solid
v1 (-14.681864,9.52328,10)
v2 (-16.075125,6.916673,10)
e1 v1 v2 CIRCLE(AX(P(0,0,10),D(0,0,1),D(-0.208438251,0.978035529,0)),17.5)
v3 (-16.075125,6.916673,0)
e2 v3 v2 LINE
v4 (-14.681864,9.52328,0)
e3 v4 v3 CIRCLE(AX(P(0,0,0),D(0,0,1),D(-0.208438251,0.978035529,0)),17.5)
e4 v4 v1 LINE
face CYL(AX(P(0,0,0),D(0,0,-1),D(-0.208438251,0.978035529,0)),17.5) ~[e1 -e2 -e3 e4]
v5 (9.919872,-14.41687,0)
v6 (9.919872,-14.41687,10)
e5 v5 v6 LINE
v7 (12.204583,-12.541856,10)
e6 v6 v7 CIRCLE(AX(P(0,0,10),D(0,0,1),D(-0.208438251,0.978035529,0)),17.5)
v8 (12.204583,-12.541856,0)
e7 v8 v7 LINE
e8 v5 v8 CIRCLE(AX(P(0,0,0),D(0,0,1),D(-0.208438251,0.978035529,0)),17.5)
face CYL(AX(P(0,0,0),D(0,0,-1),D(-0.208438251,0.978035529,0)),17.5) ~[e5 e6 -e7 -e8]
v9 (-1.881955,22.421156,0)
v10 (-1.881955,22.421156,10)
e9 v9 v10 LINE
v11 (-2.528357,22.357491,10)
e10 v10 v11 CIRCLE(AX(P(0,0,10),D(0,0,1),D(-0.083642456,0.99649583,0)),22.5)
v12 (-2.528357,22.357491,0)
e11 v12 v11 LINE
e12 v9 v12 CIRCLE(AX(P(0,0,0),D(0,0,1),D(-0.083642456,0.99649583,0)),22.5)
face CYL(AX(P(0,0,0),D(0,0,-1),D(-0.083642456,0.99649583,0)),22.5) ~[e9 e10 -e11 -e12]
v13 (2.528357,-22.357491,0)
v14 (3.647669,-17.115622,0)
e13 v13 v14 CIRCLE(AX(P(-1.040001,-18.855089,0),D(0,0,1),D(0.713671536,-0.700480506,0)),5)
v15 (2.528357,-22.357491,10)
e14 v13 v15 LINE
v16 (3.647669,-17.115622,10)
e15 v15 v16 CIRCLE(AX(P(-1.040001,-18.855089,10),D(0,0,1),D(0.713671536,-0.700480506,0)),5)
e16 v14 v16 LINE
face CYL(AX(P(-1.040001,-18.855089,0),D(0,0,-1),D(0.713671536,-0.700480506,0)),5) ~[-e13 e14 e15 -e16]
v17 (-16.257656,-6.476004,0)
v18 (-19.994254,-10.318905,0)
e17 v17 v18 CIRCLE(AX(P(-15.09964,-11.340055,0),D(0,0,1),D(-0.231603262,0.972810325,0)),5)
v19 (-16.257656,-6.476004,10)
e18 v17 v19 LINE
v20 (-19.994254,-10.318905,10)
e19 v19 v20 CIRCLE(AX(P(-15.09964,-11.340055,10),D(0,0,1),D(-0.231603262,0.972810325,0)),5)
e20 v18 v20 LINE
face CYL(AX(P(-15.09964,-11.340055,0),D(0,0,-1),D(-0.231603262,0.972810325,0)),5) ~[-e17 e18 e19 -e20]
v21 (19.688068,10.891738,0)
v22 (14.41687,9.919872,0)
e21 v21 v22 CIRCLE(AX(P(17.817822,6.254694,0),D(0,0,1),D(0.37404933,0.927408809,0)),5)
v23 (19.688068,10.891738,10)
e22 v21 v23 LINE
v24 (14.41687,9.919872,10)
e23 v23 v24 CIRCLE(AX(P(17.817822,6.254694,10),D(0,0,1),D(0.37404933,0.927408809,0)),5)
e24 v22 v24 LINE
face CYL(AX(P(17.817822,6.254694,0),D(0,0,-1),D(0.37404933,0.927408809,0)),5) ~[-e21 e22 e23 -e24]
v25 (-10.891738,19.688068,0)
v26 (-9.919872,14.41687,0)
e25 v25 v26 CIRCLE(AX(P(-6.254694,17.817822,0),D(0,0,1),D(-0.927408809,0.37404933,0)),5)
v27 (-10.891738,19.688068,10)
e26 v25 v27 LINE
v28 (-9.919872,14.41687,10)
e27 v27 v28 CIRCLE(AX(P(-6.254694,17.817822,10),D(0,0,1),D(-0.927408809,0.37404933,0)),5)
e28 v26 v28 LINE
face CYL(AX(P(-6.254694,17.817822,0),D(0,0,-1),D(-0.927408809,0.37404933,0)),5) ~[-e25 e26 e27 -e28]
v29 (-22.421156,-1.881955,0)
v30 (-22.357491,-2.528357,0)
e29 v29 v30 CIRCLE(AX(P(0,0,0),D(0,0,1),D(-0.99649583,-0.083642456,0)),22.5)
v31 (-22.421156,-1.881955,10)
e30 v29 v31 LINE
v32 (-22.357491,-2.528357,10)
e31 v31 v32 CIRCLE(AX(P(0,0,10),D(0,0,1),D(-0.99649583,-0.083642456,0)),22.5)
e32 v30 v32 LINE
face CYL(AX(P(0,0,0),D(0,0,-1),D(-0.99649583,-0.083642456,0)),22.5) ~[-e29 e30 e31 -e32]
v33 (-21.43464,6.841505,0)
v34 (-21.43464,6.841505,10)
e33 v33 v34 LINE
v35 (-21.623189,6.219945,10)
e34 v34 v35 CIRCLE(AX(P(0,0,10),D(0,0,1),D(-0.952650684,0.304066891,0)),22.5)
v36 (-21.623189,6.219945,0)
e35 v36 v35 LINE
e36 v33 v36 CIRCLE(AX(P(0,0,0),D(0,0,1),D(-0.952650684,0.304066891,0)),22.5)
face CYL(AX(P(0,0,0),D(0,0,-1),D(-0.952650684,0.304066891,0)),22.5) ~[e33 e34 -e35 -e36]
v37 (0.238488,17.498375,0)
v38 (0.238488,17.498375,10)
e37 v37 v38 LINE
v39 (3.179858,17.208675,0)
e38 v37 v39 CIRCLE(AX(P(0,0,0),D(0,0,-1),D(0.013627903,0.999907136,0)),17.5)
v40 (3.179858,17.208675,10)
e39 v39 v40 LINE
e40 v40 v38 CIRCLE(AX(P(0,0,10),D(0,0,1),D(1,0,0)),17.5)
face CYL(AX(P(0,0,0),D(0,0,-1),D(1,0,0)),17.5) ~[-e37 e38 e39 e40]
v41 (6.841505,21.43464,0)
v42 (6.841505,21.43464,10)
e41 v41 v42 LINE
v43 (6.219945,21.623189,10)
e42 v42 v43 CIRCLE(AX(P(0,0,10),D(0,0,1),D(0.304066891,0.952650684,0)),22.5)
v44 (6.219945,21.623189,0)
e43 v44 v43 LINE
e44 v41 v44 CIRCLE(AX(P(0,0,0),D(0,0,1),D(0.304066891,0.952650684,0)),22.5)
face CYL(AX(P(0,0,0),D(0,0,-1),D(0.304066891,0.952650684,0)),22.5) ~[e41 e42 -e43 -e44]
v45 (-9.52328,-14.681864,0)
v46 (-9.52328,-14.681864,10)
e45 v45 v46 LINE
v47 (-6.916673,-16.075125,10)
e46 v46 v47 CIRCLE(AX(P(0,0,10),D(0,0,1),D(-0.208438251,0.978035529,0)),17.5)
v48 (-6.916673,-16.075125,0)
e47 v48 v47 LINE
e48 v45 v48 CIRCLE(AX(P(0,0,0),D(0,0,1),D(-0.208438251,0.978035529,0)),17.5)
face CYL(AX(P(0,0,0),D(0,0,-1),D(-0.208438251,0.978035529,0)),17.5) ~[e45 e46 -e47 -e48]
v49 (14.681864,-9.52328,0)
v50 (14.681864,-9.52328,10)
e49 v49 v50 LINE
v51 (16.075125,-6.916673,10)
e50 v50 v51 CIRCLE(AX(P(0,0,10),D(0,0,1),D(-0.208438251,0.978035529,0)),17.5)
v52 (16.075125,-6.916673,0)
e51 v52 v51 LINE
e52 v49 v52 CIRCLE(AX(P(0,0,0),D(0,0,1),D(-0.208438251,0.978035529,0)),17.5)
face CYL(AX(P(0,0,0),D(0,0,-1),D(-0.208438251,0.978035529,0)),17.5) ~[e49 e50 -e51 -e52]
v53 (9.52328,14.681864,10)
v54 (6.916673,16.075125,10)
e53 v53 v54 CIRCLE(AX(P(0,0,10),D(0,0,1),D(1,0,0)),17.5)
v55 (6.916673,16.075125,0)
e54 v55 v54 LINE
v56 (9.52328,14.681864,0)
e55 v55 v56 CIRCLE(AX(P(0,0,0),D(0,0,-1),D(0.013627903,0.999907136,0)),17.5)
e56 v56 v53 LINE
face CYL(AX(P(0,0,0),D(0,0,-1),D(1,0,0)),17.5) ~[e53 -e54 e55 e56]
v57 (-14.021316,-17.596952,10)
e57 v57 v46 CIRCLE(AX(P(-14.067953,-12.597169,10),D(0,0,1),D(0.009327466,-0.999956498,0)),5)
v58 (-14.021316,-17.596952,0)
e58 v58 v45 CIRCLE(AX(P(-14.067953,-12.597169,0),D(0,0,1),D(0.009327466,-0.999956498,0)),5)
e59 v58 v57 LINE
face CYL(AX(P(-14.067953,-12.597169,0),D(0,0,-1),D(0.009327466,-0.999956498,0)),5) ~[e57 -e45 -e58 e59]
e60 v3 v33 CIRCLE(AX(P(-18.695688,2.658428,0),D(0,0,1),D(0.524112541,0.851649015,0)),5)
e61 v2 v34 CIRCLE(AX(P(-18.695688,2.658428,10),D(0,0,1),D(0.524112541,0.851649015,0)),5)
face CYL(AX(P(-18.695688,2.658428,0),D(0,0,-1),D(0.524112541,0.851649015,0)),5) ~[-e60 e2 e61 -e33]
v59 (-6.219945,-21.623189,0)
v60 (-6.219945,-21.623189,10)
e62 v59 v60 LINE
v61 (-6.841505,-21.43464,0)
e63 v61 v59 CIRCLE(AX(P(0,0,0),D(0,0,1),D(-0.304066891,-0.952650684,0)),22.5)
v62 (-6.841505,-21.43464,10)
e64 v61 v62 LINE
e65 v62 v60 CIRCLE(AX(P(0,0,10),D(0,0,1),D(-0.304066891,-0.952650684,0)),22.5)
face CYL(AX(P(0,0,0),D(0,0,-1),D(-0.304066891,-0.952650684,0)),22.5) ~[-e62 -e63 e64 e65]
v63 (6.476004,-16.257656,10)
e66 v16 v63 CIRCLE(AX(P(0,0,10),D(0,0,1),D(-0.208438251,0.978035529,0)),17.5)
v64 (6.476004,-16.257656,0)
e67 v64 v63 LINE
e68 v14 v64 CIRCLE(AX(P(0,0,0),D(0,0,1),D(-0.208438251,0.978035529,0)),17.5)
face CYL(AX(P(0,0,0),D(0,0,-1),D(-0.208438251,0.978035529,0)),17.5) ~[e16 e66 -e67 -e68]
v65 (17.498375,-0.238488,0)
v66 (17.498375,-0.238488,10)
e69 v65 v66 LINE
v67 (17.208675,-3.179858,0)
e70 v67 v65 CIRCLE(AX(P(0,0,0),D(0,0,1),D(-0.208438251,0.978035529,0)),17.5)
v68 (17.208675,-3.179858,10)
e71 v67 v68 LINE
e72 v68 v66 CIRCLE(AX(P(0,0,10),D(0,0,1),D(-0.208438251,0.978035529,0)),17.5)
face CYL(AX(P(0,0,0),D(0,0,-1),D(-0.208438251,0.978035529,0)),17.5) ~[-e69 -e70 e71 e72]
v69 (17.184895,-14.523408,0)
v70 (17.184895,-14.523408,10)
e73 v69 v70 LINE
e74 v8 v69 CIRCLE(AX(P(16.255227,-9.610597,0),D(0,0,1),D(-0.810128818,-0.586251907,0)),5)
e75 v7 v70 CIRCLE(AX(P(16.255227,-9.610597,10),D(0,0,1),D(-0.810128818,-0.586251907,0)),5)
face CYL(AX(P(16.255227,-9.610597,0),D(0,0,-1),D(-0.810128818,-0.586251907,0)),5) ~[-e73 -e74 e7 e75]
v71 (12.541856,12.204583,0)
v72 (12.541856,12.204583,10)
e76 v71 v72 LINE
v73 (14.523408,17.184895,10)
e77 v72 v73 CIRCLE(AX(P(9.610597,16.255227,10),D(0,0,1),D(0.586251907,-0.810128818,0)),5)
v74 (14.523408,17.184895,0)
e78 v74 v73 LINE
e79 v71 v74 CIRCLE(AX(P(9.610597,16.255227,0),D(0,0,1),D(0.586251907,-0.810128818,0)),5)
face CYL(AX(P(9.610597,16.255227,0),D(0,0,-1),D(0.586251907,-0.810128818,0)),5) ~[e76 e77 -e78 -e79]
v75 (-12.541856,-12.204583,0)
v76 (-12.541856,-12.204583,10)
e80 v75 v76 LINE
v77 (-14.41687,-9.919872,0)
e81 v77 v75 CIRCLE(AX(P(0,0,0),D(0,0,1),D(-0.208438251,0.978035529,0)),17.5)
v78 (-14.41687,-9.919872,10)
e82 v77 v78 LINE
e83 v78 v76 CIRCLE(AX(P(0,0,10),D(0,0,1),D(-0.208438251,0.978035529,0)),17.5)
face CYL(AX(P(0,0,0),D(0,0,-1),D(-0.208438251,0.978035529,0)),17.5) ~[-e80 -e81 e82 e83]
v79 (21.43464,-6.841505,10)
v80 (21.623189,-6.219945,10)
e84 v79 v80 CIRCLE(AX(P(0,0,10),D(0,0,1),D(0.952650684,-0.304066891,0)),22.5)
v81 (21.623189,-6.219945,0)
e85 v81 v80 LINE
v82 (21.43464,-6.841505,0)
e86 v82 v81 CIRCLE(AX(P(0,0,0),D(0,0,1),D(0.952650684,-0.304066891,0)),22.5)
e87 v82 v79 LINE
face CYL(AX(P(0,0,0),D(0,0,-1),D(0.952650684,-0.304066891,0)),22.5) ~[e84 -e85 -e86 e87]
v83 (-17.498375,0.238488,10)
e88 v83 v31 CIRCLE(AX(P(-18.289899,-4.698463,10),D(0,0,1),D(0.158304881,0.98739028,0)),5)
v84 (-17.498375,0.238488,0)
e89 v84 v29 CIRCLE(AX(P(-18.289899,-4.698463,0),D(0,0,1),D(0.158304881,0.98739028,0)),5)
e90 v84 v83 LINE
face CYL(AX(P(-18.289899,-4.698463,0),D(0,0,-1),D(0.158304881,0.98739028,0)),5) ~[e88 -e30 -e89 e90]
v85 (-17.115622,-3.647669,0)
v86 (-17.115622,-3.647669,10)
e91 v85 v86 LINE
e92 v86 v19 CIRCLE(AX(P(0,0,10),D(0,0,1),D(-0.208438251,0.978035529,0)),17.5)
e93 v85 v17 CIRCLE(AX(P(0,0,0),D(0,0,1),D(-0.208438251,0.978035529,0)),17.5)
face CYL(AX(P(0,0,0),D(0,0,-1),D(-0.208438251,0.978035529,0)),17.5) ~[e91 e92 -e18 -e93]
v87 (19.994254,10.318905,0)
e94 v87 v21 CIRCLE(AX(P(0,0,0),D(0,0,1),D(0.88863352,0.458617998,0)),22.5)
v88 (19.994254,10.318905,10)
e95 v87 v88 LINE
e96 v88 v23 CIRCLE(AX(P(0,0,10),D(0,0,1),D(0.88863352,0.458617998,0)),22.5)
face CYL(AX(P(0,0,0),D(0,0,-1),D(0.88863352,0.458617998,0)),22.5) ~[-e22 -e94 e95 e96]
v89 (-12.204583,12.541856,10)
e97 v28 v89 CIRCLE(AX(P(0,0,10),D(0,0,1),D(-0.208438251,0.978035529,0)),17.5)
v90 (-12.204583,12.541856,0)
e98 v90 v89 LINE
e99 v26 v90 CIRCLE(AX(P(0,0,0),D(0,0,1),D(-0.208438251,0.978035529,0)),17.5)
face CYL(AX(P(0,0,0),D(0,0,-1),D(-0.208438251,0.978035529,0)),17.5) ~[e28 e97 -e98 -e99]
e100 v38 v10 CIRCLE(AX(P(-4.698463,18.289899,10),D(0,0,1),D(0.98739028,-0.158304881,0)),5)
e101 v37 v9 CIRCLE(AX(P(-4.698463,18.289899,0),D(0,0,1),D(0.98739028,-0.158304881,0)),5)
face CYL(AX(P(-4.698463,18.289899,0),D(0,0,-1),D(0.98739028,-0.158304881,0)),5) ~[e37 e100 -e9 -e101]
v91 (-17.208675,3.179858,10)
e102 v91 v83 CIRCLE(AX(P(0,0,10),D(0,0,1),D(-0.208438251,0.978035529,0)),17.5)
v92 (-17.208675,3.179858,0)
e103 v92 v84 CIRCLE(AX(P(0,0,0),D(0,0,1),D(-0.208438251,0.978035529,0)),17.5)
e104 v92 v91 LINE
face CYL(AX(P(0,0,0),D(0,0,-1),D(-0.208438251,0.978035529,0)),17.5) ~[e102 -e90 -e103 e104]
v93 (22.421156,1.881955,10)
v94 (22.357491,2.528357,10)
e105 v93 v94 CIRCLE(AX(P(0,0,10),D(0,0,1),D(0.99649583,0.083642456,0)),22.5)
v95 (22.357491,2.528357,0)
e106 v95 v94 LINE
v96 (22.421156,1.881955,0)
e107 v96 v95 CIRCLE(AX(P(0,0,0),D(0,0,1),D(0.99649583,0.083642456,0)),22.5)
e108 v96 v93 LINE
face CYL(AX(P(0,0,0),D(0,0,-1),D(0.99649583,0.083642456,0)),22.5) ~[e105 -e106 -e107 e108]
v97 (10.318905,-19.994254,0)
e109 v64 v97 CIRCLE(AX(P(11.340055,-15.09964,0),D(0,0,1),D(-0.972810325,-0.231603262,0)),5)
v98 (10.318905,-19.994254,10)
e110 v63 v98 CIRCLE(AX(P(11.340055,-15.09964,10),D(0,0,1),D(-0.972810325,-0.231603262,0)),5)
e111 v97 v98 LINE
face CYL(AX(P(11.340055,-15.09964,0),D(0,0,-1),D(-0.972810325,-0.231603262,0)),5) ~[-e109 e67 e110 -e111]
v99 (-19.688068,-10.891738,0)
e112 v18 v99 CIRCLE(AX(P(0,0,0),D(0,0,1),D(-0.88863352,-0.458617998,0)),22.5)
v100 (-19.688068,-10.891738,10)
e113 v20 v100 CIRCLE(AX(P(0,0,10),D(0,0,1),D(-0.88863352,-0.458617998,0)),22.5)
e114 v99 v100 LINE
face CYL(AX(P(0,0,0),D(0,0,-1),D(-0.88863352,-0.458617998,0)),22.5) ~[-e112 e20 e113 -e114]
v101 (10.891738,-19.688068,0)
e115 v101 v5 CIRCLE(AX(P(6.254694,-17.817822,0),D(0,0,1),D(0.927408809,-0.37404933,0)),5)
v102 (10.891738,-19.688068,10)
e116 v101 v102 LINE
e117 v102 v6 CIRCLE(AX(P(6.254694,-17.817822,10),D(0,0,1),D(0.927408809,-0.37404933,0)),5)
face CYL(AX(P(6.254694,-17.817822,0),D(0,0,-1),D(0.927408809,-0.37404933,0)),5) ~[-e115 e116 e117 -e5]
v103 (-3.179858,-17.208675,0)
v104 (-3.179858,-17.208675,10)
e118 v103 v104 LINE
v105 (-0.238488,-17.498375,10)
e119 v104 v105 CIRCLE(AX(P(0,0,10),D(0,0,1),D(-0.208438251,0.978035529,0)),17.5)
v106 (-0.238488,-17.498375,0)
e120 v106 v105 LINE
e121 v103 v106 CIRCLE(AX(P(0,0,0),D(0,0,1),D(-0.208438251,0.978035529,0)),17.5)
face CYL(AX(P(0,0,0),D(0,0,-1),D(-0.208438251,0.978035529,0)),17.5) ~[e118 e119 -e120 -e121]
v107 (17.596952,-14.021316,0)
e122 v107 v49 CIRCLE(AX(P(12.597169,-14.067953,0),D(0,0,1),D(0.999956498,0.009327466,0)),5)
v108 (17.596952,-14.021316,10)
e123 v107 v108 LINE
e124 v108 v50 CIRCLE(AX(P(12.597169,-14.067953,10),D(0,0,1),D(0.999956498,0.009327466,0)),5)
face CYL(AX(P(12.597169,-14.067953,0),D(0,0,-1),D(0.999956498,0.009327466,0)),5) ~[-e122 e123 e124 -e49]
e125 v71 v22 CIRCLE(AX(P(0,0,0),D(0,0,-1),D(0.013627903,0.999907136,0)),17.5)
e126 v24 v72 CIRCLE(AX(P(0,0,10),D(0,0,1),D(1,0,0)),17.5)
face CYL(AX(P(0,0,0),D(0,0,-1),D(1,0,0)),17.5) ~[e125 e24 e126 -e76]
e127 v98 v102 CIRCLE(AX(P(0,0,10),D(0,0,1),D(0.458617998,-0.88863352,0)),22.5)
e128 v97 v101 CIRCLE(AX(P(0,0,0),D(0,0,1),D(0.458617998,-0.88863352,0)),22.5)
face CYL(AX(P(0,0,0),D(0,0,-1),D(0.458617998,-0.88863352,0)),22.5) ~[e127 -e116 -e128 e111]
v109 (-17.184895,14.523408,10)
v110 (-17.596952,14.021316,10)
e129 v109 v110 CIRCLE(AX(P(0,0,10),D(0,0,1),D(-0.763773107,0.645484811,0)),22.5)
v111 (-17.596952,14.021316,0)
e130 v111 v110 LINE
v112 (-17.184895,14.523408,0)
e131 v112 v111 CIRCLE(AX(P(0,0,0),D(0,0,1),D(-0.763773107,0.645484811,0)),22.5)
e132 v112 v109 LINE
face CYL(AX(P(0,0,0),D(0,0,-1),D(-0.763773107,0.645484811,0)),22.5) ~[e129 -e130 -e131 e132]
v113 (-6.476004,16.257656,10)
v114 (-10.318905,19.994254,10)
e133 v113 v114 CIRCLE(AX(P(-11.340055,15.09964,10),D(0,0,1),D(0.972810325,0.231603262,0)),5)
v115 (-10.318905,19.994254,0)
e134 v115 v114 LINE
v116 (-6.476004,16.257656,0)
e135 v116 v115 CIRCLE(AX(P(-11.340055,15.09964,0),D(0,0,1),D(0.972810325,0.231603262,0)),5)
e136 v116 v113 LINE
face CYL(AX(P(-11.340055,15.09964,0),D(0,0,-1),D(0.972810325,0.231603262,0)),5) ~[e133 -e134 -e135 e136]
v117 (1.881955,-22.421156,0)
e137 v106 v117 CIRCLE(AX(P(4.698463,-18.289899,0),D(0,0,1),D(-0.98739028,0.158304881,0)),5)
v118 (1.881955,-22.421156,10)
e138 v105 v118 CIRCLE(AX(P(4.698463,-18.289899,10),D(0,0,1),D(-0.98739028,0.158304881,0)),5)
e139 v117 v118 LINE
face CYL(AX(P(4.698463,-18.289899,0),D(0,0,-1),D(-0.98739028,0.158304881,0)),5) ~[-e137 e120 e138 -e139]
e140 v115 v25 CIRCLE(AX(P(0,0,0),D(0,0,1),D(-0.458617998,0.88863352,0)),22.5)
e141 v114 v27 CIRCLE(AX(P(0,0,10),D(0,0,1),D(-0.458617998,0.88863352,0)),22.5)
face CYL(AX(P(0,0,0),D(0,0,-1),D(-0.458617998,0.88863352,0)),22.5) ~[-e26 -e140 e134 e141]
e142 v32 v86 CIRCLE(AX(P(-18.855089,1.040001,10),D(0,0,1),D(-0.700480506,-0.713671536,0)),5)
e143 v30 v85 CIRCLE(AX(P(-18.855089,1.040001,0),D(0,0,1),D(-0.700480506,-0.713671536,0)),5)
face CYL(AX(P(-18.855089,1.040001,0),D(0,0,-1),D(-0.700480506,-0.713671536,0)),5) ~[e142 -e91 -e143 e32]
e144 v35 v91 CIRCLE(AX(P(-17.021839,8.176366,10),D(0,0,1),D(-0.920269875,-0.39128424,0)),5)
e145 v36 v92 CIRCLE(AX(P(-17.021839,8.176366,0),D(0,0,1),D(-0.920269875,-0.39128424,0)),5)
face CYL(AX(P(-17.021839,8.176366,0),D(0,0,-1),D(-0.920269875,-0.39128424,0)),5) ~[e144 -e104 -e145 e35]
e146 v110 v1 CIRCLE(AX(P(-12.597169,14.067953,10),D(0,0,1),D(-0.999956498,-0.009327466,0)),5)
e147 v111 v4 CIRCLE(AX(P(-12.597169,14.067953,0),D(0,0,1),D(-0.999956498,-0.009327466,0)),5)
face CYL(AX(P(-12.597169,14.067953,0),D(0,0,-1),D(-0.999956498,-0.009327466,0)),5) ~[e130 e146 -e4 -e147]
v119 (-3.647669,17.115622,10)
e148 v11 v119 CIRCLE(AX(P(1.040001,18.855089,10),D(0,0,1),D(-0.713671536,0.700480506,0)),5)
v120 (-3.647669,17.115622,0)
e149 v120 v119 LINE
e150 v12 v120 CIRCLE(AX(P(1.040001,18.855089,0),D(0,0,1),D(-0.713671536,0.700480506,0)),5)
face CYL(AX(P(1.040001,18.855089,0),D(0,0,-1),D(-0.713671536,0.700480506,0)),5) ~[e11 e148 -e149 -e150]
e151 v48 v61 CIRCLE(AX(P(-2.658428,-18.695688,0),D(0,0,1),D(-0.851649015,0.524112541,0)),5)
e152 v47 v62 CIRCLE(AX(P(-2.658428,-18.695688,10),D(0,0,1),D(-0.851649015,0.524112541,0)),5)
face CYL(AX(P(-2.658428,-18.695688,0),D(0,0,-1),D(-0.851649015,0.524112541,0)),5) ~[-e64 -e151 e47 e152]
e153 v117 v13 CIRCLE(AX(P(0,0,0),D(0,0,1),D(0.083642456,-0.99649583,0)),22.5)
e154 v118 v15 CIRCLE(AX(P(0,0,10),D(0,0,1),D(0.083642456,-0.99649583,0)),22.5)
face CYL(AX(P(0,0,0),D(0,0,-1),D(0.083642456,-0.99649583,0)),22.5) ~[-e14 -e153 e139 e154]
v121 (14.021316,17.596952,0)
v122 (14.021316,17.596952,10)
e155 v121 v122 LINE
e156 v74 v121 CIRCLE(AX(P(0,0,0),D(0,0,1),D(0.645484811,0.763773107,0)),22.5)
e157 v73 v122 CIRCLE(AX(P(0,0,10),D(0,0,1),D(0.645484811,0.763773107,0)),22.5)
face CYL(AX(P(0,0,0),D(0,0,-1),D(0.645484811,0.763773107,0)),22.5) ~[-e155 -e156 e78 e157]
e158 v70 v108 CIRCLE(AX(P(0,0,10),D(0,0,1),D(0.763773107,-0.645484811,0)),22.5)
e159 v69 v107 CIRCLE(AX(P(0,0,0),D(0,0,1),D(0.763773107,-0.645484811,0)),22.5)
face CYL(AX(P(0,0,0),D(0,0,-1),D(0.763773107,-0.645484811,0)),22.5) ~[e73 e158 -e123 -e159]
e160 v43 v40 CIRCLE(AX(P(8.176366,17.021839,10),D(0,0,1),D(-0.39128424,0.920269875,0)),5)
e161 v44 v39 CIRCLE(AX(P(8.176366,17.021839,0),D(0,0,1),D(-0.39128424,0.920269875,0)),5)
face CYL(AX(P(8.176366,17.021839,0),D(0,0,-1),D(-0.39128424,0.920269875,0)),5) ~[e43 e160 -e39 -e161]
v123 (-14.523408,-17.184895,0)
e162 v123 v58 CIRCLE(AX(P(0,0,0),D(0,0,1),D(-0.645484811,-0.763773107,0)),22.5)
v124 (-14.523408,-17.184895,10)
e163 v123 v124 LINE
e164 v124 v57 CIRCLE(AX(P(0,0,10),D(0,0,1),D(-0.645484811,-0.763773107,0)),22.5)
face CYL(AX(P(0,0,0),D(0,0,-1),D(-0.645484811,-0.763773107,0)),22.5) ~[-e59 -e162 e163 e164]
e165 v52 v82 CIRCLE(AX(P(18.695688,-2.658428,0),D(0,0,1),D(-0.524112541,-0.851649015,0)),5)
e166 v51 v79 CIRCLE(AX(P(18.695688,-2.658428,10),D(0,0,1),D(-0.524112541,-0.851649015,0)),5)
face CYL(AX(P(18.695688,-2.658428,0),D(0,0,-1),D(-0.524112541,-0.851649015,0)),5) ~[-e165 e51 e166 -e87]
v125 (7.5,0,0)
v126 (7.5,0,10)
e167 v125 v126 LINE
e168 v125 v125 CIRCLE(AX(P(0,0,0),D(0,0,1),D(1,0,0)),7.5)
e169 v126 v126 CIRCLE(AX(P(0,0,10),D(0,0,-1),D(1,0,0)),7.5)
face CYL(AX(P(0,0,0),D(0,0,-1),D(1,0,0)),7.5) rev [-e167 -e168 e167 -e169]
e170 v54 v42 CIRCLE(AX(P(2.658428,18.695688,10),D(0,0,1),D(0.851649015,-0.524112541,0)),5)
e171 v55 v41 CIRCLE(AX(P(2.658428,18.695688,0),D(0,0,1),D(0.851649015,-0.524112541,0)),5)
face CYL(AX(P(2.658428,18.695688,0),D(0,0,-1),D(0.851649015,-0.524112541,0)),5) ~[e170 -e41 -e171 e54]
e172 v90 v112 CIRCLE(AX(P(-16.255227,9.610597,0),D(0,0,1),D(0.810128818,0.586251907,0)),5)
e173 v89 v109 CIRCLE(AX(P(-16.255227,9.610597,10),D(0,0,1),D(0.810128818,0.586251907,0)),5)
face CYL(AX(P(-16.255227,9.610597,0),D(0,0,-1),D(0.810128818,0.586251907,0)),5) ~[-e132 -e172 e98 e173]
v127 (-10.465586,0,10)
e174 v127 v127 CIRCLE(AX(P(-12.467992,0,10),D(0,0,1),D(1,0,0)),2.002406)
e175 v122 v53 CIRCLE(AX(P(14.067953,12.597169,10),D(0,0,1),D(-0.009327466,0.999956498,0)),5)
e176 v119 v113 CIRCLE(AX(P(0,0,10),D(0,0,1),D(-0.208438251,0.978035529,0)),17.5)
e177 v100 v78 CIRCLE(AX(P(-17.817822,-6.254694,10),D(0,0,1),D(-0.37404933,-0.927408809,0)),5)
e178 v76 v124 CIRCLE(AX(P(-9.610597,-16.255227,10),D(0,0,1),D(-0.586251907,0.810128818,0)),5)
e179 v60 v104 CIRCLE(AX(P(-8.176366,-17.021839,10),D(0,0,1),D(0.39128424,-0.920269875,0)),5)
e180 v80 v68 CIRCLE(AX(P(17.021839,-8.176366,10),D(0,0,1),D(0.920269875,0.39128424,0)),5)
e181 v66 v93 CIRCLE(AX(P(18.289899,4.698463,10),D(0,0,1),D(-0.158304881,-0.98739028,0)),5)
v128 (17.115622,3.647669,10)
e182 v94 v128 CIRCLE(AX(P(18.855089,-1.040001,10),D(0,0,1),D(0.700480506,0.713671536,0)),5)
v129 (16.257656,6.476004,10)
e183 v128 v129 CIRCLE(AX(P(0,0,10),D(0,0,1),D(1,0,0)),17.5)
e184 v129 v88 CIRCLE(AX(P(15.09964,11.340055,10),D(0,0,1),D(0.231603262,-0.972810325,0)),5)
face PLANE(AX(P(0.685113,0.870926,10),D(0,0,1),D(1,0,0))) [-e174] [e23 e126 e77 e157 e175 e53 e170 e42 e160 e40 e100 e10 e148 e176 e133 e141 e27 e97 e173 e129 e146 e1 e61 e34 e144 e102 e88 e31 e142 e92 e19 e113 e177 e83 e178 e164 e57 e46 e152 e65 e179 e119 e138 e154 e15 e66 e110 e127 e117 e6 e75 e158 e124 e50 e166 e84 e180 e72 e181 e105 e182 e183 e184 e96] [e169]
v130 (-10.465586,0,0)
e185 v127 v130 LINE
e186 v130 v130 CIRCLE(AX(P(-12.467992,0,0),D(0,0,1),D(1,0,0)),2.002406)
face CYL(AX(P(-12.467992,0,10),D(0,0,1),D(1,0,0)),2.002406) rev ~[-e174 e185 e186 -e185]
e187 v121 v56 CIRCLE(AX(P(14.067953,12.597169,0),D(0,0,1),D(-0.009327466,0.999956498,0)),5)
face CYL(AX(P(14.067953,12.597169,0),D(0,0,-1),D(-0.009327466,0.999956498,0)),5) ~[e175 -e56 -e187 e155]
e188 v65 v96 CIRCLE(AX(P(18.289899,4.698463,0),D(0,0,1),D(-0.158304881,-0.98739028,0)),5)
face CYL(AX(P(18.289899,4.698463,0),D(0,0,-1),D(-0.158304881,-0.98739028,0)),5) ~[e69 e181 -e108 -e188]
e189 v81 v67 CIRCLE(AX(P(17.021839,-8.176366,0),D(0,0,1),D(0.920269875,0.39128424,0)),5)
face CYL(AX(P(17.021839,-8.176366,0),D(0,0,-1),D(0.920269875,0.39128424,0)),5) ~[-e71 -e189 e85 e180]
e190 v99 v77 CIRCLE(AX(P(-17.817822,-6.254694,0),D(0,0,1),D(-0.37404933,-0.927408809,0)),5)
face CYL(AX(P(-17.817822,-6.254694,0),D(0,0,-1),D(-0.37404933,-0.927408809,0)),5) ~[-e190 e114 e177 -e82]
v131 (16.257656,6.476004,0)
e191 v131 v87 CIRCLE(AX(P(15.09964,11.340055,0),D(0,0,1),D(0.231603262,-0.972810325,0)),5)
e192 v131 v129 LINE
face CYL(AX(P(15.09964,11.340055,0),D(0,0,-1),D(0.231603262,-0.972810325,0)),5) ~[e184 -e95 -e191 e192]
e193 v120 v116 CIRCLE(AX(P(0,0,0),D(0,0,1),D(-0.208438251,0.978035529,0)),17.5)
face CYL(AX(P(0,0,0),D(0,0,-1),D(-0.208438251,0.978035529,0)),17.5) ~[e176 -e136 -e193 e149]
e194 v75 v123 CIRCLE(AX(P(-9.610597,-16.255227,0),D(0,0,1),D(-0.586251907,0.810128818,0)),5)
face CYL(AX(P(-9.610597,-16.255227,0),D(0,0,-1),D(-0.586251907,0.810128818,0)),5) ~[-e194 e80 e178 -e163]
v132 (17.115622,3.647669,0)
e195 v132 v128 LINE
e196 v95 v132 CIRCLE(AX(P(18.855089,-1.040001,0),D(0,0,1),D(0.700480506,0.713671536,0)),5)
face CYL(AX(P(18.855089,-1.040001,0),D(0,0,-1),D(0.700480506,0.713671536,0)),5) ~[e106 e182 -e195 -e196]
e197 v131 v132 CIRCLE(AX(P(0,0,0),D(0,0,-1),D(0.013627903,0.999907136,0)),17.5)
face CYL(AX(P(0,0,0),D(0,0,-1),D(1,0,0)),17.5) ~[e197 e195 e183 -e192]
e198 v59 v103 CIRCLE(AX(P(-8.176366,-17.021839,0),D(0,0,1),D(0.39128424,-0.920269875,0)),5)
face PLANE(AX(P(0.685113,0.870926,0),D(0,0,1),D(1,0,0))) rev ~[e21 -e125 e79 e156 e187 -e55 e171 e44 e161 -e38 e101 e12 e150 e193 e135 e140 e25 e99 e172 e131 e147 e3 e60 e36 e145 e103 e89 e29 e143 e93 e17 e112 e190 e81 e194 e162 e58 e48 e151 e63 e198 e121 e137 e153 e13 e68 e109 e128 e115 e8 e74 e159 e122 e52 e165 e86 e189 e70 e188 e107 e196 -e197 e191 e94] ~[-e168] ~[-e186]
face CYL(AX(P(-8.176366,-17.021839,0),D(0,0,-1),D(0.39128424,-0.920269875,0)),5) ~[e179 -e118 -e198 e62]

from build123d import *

# Parameters (mm, degrees)
F0_R     = 7.5
F1_DEPTH = 10
F3_COUNT = 16
F3_ANGLE = 337.5
F4_R     = 2.0024063546
F5_DEPTH = 10


with BuildPart() as f1:
    # F0 (on Top) → F1 (new body)
    with BuildSketch(Plane.XY):
        with BuildLine():
            ThreePointArc((-3.6476693986, 17.115621752), (-11.0094456156, -13.6030183135), (17.5, 0))
            ThreePointArc((17.5, 0), (12.4584016864, 12.2897610807), (0.2384882949, 17.4983748769))
            ThreePointArc((0.2384882949, 17.4983748769), (-1.7152999558, 17.4157327168), (-3.6476693986, 17.115621752))
        make_face()
        Circle(F0_R, mode=Mode.SUBTRACT)
        with BuildLine():
            ThreePointArc((-3.6476693986, 17.115621752), (-1.7152999558, 17.4157327168), (0.2384882949, 17.4983748769))
            ThreePointArc((0.2384882949, 17.4983748769), (-0.1063528579, 20.2679092651), (-1.8819552556, 22.4211561793))
            ThreePointArc((-1.8819552556, 22.4211561793), (-2.2053856574, 22.3916563501), (-2.528356566, 22.3574912071))
            ThreePointArc((-2.528356566, 22.3574912071), (-3.8497636276, 19.8992154851), (-3.6476693986, 17.115621752))
        make_face()
    extrude(amount=F1_DEPTH)

    # F3: F1 ×16 about axis
    f3_axis = Axis((0, 0, 13.1933512166), (0, 0, 1))


with BuildPart() as f1_1:
    add(f1.part)
    for i in range(1, F3_COUNT):
        add(f1.part.rotate(f3_axis, i * F3_ANGLE / (F3_COUNT - 1)))

    # F4 (on face) → F5 (cut)
    with BuildSketch(Plane.XY.offset(10)):
        with Locations((-12.467992492, 0)):
            Circle(F4_R)
    extrude(amount=-F5_DEPTH, mode=Mode.SUBTRACT)


solid = f1_1.part
